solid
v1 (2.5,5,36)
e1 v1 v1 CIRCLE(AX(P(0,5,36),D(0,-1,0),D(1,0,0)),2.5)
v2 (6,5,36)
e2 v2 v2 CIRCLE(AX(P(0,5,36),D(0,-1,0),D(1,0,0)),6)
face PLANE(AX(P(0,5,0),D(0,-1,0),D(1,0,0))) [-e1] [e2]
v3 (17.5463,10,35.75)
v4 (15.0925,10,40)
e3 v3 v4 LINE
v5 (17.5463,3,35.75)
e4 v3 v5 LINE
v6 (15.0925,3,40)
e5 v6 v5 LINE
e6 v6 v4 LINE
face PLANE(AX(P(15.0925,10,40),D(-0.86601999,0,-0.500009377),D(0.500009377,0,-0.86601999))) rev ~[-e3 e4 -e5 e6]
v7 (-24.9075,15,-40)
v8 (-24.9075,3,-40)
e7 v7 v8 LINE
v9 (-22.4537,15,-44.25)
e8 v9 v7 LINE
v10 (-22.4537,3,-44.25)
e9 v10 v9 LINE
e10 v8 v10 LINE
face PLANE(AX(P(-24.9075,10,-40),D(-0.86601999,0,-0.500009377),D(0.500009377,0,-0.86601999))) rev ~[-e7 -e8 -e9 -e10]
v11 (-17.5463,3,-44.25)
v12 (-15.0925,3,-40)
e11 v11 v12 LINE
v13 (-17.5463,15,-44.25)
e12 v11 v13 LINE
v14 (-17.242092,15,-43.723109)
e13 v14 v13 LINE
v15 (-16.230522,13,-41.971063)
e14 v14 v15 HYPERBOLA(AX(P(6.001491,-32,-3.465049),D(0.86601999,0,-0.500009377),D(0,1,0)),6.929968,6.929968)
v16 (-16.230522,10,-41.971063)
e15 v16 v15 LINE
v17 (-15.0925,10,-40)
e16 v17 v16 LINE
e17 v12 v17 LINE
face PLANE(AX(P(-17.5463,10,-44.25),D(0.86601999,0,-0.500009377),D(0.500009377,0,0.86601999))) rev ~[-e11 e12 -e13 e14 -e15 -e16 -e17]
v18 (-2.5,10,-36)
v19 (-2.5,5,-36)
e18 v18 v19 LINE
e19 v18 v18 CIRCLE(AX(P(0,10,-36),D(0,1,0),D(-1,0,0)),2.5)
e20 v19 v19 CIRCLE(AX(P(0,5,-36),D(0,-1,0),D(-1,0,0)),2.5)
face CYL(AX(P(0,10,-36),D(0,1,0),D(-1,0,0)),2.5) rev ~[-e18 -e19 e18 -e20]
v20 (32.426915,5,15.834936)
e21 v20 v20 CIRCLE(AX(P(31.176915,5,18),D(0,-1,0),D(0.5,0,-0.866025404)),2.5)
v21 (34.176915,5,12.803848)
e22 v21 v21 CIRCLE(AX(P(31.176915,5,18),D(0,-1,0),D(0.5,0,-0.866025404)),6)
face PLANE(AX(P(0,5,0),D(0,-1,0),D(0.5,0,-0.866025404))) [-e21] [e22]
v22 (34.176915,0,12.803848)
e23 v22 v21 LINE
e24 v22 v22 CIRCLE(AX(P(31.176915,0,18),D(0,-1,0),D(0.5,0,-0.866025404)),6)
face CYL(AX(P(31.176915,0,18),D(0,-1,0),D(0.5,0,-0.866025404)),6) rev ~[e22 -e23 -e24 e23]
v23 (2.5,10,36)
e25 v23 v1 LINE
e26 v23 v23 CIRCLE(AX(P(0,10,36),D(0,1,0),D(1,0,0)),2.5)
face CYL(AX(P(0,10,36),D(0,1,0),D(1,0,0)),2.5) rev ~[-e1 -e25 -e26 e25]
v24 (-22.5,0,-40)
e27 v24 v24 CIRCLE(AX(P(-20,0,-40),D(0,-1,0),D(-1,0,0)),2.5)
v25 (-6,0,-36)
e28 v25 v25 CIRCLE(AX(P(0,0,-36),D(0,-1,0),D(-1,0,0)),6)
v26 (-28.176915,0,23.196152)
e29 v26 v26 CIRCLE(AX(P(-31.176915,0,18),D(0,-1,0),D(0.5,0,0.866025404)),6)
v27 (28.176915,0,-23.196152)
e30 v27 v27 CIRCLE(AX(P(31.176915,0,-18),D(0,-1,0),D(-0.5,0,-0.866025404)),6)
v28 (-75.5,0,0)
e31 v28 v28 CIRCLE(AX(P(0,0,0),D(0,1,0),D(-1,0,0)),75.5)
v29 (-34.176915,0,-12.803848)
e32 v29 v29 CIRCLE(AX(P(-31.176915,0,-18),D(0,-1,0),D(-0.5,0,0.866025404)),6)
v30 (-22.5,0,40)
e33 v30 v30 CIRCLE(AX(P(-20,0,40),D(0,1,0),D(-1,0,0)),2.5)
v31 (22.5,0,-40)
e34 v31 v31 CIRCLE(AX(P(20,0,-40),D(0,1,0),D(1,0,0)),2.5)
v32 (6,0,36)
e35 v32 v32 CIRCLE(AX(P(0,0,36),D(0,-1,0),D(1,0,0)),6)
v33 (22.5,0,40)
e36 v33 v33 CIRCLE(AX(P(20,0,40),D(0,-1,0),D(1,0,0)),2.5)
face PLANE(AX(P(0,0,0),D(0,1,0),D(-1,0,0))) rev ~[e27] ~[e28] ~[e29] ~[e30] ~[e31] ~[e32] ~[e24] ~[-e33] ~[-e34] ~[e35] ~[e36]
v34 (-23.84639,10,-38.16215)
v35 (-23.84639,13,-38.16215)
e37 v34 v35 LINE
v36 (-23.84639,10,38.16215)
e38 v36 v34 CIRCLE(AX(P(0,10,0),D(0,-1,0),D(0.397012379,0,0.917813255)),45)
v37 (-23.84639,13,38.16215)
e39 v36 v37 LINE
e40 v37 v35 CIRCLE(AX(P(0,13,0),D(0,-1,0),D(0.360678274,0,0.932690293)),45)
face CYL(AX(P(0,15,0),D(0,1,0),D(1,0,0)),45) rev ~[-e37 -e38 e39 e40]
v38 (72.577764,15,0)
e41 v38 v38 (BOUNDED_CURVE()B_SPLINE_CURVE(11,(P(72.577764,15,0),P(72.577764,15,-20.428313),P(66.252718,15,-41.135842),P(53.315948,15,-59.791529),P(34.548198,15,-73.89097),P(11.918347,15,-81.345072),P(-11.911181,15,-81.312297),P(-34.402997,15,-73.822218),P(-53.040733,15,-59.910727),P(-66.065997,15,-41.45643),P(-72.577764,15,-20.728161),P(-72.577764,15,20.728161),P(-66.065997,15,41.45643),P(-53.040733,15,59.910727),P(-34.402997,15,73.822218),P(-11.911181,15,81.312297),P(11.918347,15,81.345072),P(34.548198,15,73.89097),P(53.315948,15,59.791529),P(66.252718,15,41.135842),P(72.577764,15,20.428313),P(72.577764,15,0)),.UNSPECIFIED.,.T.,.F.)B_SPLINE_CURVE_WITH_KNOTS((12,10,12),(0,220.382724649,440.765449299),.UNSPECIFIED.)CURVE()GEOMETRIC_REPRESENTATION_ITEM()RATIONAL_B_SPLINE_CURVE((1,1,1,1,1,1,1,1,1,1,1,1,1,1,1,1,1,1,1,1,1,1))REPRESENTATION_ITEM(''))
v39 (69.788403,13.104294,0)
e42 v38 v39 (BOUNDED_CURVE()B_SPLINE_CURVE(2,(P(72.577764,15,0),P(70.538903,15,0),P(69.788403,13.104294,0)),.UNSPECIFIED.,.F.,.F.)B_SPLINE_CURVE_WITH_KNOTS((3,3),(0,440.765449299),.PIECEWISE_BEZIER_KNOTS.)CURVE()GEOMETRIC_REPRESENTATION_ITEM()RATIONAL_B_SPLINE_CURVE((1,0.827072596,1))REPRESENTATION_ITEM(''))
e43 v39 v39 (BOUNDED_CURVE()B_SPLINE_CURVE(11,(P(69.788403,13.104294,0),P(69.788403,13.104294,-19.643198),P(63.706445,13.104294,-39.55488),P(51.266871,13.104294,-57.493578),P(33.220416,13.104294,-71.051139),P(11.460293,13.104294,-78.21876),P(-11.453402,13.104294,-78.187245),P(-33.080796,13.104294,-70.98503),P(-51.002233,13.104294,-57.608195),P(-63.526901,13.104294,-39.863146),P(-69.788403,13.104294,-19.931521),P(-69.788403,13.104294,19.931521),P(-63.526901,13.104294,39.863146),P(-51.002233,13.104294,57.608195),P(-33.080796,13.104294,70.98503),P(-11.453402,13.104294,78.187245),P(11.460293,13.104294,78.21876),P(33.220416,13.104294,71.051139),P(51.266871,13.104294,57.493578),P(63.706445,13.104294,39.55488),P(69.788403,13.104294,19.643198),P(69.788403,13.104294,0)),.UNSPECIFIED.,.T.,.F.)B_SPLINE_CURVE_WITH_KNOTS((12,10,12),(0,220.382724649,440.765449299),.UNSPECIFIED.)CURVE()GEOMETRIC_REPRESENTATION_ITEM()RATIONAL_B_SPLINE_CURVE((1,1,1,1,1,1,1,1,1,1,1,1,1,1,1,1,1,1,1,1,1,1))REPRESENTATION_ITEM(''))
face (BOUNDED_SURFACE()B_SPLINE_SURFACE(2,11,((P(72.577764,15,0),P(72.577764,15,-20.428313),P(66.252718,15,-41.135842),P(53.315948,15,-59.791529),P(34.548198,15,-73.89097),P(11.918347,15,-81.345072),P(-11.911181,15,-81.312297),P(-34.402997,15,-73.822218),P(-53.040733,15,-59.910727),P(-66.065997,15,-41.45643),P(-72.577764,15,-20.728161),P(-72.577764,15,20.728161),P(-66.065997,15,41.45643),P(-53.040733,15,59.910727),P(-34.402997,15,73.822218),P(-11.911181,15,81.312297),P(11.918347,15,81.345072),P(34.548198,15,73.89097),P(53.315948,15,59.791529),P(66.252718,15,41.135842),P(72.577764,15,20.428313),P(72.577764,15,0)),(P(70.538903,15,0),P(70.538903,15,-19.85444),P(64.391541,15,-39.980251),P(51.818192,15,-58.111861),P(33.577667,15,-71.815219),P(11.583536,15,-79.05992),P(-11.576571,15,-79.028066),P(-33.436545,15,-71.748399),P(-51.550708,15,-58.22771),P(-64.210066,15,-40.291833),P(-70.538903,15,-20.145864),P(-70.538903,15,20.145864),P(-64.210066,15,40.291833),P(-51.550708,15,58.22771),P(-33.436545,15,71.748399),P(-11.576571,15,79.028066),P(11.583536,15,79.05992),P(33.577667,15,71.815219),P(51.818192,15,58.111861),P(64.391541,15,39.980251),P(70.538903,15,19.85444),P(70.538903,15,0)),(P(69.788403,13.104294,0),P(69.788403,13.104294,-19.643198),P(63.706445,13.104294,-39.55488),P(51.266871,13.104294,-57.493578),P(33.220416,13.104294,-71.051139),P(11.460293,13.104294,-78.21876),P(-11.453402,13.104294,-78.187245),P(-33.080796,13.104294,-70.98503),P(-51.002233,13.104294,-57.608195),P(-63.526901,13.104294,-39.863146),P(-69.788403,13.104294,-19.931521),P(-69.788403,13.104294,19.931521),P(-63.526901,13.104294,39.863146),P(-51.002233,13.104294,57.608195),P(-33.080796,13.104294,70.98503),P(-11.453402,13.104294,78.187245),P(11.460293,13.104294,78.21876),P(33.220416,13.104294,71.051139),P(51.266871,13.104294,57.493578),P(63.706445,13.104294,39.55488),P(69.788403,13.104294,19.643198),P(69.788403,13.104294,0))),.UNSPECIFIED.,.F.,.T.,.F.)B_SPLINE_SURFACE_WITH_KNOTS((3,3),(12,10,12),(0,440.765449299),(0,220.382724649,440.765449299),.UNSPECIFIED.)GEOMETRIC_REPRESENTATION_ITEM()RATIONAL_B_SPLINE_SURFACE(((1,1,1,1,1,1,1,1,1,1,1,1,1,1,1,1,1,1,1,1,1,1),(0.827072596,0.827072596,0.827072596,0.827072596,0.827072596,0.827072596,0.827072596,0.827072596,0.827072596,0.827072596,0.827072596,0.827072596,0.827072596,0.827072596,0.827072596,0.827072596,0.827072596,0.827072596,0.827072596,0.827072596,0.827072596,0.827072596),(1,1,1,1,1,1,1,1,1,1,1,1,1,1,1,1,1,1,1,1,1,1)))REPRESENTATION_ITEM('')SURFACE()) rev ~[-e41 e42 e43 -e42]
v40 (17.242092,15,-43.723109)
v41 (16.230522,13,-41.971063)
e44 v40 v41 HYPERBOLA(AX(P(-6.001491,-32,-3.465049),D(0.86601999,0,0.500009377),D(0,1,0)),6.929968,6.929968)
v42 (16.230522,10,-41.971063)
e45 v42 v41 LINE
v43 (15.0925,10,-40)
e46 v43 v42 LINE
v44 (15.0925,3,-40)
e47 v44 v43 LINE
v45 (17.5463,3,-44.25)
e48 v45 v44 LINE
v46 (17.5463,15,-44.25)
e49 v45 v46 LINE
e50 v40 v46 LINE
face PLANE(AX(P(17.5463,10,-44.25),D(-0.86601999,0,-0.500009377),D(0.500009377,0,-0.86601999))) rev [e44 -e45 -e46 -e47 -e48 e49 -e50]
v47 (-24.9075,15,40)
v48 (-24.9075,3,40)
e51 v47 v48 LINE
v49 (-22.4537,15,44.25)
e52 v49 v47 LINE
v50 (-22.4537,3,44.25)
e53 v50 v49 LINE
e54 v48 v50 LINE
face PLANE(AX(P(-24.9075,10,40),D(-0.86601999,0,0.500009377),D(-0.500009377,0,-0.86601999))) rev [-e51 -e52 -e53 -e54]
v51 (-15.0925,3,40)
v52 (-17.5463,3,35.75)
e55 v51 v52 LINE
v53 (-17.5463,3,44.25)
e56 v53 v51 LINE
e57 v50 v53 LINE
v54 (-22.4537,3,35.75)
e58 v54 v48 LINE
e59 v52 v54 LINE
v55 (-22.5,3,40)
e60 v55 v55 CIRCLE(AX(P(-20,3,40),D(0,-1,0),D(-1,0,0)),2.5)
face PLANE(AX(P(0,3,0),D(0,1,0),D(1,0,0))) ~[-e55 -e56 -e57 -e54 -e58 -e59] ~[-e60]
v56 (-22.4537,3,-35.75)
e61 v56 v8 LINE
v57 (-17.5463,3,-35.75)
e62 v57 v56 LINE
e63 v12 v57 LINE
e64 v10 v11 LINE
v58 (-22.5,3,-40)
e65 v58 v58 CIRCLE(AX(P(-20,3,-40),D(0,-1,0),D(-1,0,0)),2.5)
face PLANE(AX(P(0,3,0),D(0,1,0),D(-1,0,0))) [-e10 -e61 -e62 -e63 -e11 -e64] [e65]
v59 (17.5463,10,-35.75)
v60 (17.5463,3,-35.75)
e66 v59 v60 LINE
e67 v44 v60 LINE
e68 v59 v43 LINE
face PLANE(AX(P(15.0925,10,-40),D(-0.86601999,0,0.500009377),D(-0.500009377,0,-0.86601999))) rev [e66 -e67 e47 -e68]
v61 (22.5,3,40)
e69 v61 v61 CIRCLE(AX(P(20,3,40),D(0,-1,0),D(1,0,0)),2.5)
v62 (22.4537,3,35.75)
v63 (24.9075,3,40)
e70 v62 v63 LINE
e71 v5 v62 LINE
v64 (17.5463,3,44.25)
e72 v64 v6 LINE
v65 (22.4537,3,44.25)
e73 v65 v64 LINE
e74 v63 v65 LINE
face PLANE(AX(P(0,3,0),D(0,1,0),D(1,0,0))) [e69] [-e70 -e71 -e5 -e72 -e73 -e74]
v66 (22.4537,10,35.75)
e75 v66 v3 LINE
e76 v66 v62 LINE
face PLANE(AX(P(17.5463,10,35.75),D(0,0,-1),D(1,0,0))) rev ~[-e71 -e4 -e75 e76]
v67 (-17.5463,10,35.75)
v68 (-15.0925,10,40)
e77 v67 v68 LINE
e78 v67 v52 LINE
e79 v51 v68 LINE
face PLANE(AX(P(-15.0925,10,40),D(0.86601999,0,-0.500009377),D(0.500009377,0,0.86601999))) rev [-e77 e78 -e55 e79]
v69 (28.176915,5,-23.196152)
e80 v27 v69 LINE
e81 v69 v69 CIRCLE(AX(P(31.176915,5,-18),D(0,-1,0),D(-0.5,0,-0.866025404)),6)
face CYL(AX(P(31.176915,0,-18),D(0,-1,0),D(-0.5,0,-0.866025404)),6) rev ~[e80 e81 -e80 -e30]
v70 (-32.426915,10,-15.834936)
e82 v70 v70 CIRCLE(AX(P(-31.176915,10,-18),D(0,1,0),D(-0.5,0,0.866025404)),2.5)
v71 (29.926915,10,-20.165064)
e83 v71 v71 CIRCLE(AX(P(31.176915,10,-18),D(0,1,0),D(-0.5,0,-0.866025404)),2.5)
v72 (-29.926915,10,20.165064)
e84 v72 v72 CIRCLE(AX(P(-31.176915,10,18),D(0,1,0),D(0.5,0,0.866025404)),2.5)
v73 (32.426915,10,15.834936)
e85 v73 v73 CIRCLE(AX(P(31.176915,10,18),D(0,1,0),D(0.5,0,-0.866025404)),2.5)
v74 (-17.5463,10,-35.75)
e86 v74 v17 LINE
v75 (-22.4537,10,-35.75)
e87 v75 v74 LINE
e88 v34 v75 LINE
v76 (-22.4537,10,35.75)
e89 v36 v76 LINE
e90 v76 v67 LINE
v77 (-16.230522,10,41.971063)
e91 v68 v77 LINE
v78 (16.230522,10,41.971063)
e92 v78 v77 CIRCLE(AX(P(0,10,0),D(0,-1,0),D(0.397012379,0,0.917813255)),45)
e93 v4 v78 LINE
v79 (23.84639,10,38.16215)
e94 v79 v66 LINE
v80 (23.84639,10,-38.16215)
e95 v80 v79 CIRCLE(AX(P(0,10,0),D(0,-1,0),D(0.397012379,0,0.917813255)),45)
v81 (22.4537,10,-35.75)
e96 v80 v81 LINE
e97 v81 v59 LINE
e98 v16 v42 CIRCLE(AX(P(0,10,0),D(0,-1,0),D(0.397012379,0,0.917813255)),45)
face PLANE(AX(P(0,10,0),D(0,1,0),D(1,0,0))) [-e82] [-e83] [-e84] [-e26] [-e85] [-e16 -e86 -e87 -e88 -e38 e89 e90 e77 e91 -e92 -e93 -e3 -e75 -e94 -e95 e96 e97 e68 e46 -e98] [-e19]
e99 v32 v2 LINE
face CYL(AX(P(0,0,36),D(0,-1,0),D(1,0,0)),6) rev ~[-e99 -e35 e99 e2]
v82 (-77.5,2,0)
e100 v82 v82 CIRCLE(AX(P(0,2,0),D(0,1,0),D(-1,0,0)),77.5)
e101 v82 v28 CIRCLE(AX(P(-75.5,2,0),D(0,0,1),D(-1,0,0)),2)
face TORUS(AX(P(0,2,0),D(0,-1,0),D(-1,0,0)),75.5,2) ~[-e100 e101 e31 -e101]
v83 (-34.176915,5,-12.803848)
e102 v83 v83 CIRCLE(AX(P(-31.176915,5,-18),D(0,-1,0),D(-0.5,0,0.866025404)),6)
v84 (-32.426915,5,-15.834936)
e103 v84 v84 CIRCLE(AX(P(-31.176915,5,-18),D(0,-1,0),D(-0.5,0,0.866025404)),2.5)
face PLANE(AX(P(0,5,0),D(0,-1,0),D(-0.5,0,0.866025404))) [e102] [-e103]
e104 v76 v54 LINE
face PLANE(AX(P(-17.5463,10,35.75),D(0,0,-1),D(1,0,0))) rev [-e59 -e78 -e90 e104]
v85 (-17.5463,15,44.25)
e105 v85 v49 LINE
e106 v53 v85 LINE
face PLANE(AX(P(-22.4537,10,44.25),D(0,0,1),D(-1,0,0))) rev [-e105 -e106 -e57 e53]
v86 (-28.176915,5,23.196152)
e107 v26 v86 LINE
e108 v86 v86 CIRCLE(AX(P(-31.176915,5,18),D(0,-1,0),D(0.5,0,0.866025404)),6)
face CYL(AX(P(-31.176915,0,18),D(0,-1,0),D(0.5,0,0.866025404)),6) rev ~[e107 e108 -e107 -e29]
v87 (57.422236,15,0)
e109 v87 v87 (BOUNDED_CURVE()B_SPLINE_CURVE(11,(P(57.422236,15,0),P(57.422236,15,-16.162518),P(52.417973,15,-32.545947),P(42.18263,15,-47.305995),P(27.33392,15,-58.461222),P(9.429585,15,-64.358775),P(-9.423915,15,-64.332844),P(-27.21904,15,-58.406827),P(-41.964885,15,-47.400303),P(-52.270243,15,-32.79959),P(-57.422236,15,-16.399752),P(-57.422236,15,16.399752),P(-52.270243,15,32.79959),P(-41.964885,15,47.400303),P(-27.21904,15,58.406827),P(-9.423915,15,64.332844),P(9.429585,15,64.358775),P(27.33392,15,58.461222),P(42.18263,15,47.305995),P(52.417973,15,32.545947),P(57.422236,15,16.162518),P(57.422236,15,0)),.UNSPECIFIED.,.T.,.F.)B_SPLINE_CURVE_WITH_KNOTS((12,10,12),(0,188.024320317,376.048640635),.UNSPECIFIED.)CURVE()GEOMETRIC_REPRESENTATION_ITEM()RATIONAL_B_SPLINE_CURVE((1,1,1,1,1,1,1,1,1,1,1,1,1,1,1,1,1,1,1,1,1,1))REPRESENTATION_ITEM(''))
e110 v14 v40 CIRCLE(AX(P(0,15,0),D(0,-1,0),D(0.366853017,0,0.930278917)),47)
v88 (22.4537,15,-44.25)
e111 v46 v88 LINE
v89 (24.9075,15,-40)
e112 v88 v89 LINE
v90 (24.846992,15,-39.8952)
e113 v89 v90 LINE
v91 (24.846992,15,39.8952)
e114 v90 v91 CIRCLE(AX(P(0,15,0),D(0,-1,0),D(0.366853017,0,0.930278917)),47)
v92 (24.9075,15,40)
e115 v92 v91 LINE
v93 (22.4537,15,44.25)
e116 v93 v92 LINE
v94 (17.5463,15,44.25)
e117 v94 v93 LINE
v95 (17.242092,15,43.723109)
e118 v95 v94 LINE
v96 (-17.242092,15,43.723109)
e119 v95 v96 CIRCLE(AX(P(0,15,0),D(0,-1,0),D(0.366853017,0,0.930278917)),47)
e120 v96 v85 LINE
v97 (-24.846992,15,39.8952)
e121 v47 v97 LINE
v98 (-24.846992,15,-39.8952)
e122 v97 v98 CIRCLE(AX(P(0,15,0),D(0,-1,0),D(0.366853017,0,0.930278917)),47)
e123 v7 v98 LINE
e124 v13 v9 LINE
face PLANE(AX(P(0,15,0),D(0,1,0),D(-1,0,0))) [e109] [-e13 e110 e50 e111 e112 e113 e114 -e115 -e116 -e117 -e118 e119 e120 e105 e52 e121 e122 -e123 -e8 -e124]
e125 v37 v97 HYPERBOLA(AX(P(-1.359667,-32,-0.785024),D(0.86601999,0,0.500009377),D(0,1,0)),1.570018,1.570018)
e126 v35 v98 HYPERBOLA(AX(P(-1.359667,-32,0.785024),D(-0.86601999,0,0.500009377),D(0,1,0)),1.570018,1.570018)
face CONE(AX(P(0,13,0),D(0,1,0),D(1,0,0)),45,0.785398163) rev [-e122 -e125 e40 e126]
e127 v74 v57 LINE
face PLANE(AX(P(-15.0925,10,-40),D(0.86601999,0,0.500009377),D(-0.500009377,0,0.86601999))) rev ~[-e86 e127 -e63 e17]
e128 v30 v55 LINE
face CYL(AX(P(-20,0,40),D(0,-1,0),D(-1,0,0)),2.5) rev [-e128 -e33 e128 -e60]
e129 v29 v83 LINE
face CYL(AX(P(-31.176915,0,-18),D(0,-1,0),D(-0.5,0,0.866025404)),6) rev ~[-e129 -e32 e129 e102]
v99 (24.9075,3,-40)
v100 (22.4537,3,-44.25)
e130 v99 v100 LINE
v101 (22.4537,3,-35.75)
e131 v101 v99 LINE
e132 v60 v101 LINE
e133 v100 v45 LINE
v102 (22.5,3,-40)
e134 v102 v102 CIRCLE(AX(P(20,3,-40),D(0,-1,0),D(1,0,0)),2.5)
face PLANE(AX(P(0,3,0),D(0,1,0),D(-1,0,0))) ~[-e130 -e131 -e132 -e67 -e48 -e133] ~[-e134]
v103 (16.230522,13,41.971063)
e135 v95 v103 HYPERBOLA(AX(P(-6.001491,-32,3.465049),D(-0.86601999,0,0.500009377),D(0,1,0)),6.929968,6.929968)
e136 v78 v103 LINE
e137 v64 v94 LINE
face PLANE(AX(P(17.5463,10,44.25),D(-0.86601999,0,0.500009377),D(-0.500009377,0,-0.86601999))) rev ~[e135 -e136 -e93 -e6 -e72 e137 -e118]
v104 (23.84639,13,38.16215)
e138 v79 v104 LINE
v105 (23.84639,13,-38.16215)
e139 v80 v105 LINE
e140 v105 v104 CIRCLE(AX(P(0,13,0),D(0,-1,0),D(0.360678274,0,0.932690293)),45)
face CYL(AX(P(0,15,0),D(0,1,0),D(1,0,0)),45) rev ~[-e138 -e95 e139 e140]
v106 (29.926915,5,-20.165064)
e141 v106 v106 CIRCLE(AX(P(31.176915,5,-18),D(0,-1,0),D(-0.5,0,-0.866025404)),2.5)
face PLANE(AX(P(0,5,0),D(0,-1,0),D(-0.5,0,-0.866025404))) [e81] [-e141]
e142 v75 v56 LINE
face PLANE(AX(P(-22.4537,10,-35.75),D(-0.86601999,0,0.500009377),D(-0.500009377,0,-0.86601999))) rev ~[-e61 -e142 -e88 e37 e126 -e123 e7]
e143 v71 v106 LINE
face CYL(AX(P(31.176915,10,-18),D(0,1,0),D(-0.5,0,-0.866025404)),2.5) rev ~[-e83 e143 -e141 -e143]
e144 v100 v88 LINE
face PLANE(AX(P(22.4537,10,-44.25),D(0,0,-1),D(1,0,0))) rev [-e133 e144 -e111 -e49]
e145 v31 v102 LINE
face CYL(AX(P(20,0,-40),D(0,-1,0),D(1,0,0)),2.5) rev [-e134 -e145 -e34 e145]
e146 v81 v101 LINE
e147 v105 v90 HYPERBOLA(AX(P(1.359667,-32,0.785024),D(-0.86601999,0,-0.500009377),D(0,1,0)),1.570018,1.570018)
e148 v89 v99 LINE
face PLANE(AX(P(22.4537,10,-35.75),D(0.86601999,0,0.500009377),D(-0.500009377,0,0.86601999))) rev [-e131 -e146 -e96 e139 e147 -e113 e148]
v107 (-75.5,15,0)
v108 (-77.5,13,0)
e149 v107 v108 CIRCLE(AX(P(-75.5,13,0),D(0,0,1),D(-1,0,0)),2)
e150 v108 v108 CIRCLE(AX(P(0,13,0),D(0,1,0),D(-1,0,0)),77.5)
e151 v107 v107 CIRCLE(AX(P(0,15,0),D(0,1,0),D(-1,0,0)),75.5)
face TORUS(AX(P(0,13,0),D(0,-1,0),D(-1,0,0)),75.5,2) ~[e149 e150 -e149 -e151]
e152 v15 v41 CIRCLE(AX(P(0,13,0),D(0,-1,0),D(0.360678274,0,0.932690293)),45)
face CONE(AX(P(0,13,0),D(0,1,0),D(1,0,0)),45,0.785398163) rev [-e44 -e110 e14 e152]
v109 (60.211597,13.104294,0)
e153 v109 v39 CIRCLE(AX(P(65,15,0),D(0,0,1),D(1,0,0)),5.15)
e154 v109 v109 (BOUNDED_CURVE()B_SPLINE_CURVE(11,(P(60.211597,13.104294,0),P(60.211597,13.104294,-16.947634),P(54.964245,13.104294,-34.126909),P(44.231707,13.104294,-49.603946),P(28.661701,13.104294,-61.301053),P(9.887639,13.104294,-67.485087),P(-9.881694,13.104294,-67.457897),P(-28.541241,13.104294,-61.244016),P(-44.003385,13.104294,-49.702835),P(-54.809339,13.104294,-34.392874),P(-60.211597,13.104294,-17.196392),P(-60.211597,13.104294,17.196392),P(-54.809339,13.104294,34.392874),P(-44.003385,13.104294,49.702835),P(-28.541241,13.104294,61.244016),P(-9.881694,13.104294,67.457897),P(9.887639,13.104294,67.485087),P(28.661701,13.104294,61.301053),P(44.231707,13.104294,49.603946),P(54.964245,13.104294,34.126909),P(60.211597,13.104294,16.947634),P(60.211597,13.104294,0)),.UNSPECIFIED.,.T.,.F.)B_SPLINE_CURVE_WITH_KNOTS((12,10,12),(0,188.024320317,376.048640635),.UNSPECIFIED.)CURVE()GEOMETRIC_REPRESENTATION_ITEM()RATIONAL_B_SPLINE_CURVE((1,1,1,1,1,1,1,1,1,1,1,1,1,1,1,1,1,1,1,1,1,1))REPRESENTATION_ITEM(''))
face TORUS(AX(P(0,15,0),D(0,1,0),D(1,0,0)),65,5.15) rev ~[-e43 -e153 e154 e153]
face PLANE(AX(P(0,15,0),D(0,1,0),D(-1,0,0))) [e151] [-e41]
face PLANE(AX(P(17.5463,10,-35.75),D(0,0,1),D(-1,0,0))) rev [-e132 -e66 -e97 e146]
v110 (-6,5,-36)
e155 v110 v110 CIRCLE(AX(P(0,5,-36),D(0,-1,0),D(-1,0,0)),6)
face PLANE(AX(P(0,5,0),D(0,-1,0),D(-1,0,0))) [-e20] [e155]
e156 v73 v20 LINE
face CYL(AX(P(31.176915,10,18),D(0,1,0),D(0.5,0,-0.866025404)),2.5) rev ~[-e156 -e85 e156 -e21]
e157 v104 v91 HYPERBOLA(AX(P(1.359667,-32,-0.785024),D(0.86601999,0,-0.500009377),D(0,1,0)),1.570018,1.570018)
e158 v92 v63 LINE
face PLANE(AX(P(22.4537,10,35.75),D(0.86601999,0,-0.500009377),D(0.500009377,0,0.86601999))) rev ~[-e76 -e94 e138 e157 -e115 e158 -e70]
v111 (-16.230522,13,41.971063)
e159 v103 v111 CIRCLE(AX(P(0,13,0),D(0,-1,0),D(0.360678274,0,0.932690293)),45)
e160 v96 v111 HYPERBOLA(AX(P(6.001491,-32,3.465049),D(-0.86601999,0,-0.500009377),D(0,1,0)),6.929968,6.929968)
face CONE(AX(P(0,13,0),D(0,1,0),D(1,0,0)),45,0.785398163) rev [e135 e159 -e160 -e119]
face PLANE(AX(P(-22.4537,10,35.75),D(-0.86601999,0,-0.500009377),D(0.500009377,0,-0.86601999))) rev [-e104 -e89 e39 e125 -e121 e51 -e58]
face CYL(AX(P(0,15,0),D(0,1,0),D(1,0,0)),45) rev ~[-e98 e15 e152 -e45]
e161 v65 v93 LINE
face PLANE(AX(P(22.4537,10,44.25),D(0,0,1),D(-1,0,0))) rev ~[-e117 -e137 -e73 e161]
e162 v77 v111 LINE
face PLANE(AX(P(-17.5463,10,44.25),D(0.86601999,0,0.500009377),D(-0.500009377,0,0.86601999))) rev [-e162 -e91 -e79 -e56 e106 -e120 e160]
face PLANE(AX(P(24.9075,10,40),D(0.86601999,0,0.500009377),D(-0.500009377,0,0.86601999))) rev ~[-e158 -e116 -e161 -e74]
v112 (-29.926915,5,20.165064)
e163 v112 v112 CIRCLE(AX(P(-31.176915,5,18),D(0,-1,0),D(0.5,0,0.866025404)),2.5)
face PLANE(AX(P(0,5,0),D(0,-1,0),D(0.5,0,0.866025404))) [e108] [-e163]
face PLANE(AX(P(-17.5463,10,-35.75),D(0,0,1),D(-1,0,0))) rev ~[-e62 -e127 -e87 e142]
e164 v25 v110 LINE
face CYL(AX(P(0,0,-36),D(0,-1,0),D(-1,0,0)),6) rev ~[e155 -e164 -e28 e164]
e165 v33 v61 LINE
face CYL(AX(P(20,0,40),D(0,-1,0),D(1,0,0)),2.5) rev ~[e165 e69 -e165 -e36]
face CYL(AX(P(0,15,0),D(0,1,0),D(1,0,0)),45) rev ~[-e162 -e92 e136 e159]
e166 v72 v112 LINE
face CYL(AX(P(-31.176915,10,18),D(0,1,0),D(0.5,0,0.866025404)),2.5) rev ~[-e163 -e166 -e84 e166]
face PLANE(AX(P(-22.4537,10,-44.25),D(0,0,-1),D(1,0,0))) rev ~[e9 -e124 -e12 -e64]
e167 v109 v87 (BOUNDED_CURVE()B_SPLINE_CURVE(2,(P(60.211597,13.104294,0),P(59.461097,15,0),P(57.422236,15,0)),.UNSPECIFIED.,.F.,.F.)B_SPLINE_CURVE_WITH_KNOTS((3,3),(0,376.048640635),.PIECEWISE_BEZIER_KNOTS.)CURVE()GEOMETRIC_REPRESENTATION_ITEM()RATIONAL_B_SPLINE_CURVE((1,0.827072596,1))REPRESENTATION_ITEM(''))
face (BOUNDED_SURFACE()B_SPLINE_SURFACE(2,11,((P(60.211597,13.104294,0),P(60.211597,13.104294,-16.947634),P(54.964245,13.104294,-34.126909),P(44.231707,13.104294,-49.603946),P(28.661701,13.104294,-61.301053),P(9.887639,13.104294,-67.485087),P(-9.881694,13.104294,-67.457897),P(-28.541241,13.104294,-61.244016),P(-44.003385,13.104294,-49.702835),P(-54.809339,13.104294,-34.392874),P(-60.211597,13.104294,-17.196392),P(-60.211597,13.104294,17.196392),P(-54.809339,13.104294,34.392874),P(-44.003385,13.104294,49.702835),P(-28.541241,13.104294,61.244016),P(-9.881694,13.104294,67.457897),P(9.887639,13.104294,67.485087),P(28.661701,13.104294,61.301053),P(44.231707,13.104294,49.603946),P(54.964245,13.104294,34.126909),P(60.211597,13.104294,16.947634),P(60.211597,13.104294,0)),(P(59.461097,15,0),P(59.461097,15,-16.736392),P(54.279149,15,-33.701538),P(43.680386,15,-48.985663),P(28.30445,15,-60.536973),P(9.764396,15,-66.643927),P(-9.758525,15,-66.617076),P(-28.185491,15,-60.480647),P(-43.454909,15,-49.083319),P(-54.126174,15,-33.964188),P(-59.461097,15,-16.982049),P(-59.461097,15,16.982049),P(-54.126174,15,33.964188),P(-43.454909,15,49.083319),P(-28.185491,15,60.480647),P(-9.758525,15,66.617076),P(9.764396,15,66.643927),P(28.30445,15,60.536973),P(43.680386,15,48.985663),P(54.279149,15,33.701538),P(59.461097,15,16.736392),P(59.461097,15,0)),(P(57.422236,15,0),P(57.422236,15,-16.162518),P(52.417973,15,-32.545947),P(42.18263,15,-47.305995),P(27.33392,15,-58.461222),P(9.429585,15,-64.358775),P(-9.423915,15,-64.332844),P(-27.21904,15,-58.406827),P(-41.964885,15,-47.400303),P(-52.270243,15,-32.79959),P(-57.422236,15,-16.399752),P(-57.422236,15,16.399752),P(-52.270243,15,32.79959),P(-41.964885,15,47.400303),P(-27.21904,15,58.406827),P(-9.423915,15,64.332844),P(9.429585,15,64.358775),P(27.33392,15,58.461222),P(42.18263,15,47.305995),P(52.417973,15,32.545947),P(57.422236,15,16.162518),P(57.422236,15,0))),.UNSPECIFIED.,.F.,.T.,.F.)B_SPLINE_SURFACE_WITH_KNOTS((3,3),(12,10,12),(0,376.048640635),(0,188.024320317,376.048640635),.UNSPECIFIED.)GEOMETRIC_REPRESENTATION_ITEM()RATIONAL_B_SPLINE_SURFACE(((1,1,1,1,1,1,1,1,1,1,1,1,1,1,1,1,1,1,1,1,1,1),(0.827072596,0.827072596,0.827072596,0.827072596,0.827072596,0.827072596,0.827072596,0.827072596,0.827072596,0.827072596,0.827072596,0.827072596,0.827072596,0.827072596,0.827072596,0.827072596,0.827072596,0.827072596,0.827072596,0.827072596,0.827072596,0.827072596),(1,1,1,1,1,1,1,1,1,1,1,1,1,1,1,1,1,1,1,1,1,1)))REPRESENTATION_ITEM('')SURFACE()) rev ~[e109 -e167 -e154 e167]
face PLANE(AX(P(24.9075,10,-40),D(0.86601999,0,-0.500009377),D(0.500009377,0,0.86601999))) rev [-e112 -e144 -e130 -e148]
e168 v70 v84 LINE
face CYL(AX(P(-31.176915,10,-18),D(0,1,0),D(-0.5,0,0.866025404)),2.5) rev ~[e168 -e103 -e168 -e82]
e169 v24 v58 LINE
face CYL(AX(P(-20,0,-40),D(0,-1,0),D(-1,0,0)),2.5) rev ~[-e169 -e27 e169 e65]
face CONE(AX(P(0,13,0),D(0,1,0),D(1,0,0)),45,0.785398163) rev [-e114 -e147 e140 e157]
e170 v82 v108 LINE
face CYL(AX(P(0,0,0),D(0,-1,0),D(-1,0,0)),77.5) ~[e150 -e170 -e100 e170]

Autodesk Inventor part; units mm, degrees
ref_plane "YZ Plane" through (0, 0, 0) normal (1, 0, 0) x (0, 1, 0)
ref_plane "XZ Plane" through (0, 0, 0) normal (0, 1, 0) x (-1, 0, 0)
ref_plane "XY Plane" through (0, 0, 0) normal (0, 0, 1) x (1, 0, 0)
sketch "Эскиз1" plane through (0, 0, 0) normal (0, 1, 0) x (-1, 0, 0)
  circle A0 centre (0, 0) radius 77.5
  dimension "d0" = 155
extrude "Выдавливание1" add sketch "Эскиз1" along normal blind 15
sketch "Эскиз2" plane through (0, 15, 0) normal (0, 1, 0) x (1, 0, 0)
  circle A0 centre (0, 0) radius 70 construction
  circle A1 centre (0, 0) radius 60 construction
  circle A2 centre (0, 0) radius 65
  dimension "d7" = 140
  dimension "d6" = 120
  dimension "d5" = 130
sketch "Эскиз3" plane through (0, 0, 0) normal (0, 0, 1) x (1, 0, 0)
  line L0 (65, 15) -> (-65, 15) projected
  circle A0 centre (-65, 15) radius 5.15
  point P0 (0, 0)
  dimension "d8" = 10.3
sweep "Сдвиг1" cut profiles "Эскиз3" path "Эскиз2"
fillet "Сопряжение1" radius 3 2 edges at (-70.15, 15, 0) (-59.85, 15, 0)
fillet "Сопряжение2" radius 2 2 edges at (77.5, 15, 0) (77.5, 0, 0)
sketch "Эскиз4" plane through (0, 15, 0) normal (0, 1, 0) x (1, 0, 0)
  circle A0 centre (0, 0) radius 14 construction
  circle A1 centre (0, 0) radius 45
  dimension "d11" = 28
  dimension "d12" = 90
extrude "Выдавливание2" cut sketch "Эскиз4" against normal blind 5
sketch "Эскиз5" plane through (0, 10, 0) normal (0, 1, 0) x (1, 0, 0)
  circle A0 centre (0, -36) radius 2.5
  point P0 (0, 0)
  dimension "d15" = 5
  dimension "d16" = 36
extrude "Выдавливание3" cut sketch "Эскиз5" against normal through all
pattern_circular "Круговой массив1" count 6 over 360 about axis through (0, 15, 0) along (0, -1, 0) of "Выдавливание3"
chamfer "Фаска1" distance 2 angle 45 1 edges at (-45, 15, 0)
sketch "Эскиз6" plane through (0, 0, 0) normal (0, -1, 0) x (1, 0, 0)
  circle A0 centre (0, 36) radius 2.5 projected
  circle A1 centre (0, 36) radius 6
  point P0 (0, 0)
  dimension "d31" = 12
extrude "Выдавливание4" cut sketch "Эскиз6" against normal blind 5
pattern_circular "Круговой массив2" count 6 over 360 about axis through (0, 0, 0) along (0, 1, 0) of "Выдавливание4"
sketch "Эскиз7" plane through (0, 0, 0) normal (0, -1, 0) x (1, 0, 0)
  circle A0 centre (20, 40) radius 2.5
  point P0 (0, 0)
  dimension "d37" = 5
  dimension "d40" = 40
  dimension "d41" = 20
extrude "Выдавливание5" cut sketch "Эскиз7" against normal through all
sketch "Эскиз8" plane through (0, 10, 0) normal (0, 1, 0) x (1, 0, 0)
  arc A0 (22.3219, -39.0734) -> (17.8656, -41.3016) centre (20, -40) ccw projected
  line L0 (15.0925, -40) -> (17.5463, -35.75)
  line L1 (17.5463, -35.75) -> (22.4537, -35.75)
  line L2 (22.4537, -35.75) -> (24.9075, -40)
  line L3 (24.9075, -40) -> (22.4537, -44.25)
  line L4 (22.4537, -44.25) -> (17.5463, -44.25)
  line L5 (17.5463, -44.25) -> (15.0925, -40)
  point P0 (0, 0)
  dimension "d42" = 8.5
extrude "Выдавливание6" cut sketch "Эскиз8" along normal mid plane 14
mirror "Зеркальное отражение1" about plane through (0, 0, 0) normal (0, 0, 1) of "Выдавливание6", "Выдавливание5"
mirror "Зеркальное отражение2" about plane through (0, 0, 0) normal (1, 0, 0) of "Выдавливание6", "Выдавливание5", "Зеркальное отражение1"
sketch "Эскиз9" plane through (0, 0, 0) normal (0, -1, 0) x (1, 0, 0)
  circle A0 centre (0, 0) radius 77.5 projected
  circle A1 centre (20, 40) radius 2.5 projected
  circle A2 centre (-20, 40) radius 2.5 projected
  circle A3 centre (-20, -40) radius 2.5 projected
  circle A4 centre (20, -40) radius 2.5 projected
equation "\"d5\" = 0.5 * d6 + 0.5 * d7"
properties part number "000.005.001.002 - ПОВОРОТНОЕ ОСНОВАНИЕ" material "Пластик АБС"
